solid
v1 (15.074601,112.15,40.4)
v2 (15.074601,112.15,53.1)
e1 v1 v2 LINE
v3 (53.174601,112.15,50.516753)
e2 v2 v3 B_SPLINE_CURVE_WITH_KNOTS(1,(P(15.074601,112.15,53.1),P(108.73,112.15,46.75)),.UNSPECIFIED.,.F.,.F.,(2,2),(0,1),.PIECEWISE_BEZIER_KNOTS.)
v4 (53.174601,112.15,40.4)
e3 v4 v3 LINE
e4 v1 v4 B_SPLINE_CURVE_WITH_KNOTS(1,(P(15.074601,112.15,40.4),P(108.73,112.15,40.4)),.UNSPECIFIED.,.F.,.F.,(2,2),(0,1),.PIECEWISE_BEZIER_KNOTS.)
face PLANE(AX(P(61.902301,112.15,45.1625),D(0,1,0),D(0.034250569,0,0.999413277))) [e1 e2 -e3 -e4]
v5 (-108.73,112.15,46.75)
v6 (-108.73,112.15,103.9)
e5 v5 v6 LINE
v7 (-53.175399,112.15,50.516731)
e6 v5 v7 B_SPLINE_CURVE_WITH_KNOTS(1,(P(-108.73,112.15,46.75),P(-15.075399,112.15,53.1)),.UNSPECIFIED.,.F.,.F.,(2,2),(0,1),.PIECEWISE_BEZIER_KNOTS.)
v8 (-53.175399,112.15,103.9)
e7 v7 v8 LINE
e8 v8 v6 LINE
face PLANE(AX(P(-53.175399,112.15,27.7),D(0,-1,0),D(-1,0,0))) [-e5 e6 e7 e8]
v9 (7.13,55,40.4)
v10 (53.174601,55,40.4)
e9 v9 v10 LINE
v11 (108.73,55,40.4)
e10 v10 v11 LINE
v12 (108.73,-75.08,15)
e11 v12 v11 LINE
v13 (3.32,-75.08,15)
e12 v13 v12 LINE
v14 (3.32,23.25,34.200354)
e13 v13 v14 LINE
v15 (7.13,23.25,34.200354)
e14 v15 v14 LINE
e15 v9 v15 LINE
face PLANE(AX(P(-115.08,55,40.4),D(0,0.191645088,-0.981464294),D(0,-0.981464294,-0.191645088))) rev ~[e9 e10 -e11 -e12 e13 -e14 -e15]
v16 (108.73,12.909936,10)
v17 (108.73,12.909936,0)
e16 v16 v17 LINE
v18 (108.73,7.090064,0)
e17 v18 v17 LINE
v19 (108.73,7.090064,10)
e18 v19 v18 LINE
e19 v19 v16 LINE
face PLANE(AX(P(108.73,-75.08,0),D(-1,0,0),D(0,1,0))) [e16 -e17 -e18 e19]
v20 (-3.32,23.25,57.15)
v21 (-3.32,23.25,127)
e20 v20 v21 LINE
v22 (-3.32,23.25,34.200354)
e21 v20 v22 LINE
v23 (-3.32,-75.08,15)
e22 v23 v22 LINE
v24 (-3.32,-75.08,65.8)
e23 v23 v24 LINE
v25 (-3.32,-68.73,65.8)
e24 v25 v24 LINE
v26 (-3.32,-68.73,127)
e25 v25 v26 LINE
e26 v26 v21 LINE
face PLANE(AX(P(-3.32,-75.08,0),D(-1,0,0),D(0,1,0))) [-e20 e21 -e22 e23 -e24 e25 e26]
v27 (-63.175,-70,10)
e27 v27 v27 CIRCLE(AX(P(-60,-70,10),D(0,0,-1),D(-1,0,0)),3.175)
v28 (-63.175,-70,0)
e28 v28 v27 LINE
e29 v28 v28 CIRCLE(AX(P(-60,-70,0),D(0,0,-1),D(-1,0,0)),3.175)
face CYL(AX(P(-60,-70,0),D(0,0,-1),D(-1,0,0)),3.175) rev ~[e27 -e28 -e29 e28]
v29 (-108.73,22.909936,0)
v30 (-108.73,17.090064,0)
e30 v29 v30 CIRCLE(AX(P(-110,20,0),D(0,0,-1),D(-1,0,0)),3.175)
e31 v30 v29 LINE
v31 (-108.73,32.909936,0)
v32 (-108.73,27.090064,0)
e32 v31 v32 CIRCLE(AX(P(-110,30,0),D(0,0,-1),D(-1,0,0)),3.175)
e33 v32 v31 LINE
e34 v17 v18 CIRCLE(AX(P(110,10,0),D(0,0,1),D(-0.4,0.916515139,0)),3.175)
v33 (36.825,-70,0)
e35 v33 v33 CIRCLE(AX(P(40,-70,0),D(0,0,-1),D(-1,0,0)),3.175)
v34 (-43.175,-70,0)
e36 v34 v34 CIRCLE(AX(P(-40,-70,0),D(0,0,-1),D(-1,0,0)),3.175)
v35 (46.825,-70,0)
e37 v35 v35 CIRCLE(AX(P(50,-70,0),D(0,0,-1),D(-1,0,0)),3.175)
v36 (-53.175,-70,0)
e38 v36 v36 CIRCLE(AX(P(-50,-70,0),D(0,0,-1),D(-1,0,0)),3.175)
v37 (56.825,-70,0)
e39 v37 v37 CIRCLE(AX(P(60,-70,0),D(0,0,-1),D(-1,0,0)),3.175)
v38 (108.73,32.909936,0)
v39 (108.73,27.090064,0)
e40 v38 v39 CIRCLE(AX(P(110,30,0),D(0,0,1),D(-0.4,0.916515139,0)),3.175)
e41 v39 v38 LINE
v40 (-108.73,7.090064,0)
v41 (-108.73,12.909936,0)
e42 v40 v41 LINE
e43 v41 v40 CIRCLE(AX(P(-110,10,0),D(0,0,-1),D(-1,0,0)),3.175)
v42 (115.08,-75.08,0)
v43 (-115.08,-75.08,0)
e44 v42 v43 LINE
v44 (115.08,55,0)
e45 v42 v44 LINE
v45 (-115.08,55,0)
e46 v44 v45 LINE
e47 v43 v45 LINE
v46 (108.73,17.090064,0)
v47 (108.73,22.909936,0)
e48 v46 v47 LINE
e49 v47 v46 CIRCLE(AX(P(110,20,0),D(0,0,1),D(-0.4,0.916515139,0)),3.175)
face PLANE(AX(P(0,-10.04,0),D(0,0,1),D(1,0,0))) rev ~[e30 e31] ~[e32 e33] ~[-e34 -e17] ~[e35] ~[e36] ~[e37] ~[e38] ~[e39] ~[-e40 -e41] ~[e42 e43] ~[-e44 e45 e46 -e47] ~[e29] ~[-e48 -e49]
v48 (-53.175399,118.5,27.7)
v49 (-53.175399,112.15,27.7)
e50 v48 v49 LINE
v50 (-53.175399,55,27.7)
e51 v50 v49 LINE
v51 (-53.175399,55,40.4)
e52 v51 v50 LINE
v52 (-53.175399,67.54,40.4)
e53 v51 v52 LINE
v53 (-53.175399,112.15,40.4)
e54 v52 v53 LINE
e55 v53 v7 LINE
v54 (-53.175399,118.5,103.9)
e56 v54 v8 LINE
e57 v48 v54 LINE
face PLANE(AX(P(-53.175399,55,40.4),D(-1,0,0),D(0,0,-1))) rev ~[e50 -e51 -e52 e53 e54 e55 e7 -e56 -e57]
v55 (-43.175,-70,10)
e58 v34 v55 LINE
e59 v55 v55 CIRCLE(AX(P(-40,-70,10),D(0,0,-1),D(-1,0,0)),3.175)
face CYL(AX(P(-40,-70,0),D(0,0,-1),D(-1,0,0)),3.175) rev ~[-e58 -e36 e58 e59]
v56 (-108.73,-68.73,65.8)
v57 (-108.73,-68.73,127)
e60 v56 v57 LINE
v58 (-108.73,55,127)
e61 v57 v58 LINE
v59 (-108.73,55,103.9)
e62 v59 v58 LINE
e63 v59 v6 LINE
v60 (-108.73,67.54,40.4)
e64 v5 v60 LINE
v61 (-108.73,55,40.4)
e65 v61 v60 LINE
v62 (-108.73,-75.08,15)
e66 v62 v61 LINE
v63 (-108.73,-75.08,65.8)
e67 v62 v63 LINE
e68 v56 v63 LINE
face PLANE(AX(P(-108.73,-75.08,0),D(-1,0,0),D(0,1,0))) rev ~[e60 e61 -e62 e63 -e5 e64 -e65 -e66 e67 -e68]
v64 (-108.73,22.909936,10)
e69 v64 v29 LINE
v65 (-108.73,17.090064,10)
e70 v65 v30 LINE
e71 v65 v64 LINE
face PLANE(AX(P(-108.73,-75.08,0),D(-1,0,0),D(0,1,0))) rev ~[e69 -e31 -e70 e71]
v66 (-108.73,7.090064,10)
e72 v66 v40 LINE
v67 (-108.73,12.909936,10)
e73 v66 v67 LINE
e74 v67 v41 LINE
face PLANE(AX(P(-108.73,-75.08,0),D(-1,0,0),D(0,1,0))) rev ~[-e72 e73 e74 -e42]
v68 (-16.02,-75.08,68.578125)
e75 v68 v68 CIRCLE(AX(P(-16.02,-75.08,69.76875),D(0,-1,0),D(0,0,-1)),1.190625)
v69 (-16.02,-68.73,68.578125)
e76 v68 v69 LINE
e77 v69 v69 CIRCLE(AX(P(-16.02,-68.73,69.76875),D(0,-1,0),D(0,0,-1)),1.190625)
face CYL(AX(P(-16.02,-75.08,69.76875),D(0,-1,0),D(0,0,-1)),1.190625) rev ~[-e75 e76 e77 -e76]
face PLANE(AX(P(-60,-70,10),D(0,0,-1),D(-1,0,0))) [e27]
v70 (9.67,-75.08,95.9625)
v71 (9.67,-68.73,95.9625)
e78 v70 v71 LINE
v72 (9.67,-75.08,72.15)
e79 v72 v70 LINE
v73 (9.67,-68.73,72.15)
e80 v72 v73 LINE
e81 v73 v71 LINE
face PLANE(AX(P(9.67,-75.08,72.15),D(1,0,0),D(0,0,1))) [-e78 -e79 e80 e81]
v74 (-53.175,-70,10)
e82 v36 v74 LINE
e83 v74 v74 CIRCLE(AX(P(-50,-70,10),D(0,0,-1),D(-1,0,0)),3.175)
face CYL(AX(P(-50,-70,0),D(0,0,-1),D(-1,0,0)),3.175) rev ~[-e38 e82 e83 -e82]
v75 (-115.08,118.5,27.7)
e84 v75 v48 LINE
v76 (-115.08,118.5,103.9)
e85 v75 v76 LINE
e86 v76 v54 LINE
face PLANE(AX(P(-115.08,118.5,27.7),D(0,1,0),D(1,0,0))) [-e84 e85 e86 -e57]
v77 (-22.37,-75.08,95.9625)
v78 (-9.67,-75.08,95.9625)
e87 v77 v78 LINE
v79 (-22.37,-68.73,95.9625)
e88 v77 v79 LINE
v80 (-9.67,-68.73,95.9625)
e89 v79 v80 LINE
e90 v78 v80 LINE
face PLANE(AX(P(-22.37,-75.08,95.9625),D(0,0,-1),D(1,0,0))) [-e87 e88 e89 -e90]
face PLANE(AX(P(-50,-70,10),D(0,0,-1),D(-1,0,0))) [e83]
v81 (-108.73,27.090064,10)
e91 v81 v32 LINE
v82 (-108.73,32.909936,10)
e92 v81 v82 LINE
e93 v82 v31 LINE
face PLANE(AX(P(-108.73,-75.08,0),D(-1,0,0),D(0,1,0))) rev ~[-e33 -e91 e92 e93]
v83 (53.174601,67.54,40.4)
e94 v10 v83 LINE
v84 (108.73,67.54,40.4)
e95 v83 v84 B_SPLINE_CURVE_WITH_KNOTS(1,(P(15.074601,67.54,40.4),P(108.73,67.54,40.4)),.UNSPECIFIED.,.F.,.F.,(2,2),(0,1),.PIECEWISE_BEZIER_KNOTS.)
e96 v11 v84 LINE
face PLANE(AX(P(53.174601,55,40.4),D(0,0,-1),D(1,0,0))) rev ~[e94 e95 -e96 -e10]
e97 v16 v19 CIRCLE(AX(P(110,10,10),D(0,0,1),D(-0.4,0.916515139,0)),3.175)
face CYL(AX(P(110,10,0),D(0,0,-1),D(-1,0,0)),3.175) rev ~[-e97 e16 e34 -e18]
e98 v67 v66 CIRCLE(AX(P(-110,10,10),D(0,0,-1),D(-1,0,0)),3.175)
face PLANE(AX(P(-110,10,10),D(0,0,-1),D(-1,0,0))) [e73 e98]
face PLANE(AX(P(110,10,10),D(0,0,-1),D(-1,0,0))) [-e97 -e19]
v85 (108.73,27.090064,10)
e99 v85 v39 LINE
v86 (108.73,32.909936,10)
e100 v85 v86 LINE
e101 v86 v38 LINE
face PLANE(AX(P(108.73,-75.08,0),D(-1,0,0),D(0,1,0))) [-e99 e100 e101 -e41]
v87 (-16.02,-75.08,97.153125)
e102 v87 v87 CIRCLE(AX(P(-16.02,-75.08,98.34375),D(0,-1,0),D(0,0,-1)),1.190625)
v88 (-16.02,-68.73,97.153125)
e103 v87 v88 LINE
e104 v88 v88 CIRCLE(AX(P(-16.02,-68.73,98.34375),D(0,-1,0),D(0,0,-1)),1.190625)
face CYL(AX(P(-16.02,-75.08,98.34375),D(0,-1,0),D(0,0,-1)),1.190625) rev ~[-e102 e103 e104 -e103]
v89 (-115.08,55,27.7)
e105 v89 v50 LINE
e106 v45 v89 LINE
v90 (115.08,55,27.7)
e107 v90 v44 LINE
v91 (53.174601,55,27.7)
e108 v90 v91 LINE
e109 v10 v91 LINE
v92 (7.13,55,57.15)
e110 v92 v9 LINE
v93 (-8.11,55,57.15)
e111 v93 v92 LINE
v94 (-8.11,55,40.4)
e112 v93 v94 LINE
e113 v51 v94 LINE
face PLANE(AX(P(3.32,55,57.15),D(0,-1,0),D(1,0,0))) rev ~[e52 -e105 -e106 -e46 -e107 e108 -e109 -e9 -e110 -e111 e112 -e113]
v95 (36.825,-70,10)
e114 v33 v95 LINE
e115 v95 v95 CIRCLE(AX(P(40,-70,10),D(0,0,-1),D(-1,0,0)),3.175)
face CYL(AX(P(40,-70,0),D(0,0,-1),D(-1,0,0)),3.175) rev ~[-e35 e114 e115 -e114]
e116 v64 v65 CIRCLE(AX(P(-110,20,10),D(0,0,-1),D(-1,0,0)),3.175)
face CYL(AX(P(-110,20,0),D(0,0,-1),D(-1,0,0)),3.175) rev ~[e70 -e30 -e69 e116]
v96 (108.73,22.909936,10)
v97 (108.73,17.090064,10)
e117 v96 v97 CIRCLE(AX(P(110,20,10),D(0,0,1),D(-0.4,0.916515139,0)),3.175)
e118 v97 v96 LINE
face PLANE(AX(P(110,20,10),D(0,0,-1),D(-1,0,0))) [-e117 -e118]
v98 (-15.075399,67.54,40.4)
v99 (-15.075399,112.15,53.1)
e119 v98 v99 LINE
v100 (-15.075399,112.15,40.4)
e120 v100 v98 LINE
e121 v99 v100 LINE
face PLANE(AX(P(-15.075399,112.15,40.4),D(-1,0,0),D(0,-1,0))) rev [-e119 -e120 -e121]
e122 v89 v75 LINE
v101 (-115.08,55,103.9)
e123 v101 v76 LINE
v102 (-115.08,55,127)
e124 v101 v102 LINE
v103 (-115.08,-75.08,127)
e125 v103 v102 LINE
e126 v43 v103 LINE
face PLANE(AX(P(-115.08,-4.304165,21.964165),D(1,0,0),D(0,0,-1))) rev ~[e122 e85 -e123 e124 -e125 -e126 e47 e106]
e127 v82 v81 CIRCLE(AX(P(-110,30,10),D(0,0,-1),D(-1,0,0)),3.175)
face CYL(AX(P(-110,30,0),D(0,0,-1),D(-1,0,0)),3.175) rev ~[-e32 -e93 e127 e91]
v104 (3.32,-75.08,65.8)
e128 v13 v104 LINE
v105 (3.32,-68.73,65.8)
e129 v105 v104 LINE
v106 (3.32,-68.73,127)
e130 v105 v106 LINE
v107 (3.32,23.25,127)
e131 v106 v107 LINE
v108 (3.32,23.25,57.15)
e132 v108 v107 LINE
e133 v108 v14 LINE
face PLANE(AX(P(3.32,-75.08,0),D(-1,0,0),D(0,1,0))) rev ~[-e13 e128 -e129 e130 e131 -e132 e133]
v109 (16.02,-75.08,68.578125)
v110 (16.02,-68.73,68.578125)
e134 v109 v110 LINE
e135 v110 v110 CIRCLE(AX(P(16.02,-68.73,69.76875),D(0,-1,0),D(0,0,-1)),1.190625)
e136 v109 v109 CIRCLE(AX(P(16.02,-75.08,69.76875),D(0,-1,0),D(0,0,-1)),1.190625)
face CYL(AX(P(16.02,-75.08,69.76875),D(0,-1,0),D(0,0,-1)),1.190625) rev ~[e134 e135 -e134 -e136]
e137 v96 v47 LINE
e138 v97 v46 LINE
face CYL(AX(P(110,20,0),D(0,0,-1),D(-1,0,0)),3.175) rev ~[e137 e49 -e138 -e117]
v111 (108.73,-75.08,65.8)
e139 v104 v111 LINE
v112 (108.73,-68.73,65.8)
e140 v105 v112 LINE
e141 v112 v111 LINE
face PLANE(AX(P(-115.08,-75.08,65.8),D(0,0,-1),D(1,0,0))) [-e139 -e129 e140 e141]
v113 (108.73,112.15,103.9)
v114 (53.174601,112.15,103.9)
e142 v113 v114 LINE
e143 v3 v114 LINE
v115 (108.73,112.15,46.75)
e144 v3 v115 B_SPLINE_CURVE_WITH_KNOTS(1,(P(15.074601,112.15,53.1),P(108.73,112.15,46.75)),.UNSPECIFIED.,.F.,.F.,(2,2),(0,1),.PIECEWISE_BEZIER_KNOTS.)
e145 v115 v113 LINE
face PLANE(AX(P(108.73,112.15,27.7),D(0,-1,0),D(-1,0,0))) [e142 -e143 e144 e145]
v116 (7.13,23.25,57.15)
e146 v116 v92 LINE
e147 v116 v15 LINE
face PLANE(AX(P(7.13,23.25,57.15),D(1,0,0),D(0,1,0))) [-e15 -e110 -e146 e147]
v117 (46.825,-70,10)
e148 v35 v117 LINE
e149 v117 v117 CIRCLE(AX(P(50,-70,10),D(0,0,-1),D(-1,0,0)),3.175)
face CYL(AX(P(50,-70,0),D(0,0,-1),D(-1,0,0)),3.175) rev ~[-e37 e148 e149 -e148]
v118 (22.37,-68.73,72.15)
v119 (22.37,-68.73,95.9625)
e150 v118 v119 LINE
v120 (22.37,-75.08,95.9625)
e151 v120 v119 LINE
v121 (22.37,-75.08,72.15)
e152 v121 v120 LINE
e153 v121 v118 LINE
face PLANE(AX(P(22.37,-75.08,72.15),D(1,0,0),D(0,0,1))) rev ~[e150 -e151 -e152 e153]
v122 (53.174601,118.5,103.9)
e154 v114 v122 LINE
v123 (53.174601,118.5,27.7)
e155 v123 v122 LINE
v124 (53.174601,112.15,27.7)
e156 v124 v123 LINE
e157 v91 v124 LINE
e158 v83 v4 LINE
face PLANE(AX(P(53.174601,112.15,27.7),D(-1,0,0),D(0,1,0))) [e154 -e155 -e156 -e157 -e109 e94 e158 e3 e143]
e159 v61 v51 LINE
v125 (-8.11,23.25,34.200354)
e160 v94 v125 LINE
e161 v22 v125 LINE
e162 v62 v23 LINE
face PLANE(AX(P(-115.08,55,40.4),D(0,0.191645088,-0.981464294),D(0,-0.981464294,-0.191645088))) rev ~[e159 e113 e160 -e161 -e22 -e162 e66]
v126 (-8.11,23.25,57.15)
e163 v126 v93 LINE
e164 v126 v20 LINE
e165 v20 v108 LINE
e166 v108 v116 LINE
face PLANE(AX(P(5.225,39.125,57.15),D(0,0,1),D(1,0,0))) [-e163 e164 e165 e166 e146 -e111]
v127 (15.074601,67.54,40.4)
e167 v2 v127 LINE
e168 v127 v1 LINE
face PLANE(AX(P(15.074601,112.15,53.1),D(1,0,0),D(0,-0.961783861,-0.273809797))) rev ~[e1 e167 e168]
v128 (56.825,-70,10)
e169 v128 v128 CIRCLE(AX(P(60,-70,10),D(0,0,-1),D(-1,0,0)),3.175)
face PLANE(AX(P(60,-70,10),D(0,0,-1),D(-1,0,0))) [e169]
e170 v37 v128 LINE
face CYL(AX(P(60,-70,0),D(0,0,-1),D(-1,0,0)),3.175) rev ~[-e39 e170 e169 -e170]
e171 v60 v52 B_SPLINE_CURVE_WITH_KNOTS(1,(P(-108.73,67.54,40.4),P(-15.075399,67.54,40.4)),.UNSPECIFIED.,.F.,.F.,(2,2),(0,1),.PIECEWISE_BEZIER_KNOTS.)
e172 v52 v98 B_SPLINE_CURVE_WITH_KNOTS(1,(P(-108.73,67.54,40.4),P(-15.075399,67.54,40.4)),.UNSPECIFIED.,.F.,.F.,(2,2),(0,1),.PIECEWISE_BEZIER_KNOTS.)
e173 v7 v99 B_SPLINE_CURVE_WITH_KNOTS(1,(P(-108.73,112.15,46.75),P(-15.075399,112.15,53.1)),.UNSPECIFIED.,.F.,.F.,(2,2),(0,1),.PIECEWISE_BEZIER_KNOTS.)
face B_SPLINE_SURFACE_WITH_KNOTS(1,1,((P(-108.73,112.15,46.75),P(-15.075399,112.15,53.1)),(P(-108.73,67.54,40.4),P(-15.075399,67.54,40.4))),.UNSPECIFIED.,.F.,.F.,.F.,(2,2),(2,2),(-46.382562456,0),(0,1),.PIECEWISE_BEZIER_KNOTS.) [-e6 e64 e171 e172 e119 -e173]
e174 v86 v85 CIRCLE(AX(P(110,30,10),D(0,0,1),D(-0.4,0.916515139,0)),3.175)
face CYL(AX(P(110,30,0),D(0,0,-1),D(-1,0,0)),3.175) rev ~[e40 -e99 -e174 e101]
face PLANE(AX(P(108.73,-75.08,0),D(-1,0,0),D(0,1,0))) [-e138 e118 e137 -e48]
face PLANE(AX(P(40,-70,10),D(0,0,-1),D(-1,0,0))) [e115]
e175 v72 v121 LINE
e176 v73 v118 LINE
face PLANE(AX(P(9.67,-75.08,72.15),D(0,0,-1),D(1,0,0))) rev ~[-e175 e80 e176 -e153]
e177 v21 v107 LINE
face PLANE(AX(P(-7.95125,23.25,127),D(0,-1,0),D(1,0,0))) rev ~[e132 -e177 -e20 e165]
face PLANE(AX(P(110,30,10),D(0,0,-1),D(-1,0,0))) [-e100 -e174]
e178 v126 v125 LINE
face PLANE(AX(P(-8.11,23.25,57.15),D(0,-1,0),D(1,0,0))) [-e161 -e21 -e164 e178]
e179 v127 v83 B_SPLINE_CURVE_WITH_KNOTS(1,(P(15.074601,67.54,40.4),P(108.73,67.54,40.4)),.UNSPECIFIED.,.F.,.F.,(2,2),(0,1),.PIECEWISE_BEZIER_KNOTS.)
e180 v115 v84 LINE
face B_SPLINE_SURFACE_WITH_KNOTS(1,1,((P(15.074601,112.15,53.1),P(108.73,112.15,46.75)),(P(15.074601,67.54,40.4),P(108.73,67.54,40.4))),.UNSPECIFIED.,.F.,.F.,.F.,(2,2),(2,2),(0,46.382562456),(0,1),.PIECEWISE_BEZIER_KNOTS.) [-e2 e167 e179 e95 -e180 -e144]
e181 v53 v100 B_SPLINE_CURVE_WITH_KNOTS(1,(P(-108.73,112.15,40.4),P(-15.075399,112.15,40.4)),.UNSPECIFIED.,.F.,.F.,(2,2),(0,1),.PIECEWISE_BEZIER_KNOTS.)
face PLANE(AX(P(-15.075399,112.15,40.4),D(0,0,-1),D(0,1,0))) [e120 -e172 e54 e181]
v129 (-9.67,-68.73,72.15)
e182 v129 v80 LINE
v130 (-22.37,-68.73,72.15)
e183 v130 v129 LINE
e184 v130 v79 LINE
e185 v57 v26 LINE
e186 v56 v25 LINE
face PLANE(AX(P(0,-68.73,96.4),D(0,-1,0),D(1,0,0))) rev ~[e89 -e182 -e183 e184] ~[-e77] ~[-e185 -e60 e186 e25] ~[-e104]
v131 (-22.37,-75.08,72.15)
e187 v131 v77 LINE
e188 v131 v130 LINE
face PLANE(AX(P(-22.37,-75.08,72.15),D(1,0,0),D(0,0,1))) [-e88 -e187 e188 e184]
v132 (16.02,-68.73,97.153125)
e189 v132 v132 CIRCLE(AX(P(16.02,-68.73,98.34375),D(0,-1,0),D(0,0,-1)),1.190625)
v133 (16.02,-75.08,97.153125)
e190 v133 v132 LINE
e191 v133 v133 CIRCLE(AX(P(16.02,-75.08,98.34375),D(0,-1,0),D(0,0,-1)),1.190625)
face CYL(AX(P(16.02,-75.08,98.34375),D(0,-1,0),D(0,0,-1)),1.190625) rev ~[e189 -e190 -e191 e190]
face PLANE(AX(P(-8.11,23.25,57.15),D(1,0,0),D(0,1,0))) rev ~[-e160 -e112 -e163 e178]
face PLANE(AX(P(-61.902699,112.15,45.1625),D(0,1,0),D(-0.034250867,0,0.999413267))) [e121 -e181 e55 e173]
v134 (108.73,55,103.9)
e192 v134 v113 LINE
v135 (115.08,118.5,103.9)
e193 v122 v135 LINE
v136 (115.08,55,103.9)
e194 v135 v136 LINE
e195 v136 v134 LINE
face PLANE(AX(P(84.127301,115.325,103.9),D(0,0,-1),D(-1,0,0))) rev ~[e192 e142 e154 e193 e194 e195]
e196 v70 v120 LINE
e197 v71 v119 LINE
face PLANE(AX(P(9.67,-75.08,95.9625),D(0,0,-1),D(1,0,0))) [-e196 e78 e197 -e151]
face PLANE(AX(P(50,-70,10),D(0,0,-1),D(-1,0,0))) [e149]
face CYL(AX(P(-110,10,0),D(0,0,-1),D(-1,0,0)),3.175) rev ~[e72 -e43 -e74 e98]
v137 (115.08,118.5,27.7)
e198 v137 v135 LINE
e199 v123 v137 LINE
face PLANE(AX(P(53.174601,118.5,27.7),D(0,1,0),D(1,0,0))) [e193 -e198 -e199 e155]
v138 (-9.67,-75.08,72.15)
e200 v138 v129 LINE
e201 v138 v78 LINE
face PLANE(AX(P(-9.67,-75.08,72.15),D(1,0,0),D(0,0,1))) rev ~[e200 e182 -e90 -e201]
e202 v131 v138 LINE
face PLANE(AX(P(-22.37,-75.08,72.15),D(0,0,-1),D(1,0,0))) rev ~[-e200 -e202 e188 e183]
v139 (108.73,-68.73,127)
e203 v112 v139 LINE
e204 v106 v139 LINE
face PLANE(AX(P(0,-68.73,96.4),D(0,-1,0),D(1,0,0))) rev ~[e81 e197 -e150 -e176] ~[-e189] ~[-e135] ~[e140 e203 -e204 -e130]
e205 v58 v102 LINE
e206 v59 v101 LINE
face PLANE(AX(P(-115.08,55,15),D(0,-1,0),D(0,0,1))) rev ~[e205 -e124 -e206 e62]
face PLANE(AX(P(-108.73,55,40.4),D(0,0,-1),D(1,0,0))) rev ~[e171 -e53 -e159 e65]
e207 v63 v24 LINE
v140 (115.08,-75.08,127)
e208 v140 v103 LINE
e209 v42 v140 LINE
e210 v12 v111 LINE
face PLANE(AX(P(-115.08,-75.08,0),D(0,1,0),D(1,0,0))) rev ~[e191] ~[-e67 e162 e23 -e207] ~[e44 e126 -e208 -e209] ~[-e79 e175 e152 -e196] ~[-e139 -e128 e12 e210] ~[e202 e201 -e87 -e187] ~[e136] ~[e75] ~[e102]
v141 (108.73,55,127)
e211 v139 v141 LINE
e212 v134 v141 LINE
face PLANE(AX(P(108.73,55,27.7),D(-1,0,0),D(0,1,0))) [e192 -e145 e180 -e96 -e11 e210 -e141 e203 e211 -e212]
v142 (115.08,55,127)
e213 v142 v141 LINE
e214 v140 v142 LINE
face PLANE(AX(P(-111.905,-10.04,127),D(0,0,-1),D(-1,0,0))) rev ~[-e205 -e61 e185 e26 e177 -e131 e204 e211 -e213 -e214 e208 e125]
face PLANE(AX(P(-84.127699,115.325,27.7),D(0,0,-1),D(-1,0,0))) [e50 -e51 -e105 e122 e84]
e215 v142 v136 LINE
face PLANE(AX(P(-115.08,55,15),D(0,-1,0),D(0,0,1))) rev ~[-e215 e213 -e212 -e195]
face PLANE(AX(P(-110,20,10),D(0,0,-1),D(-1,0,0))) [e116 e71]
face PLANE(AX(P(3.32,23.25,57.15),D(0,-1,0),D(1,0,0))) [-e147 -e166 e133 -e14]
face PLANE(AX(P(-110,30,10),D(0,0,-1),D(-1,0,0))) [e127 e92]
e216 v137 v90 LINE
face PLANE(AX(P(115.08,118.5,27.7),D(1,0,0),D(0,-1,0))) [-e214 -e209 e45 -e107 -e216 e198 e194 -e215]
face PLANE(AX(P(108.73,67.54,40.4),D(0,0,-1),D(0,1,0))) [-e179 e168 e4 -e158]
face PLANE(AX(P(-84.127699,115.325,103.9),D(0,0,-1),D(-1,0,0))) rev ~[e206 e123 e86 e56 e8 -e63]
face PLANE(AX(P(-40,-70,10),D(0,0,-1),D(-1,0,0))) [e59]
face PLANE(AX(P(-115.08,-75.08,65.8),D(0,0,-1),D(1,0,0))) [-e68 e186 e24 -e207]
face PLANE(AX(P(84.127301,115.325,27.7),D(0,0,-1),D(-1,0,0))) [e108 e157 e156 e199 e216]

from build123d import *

# Parameters (mm, degrees)
SKETCH1_W            = 230.16
SKETCH1_H            = 130.080000074
BOSS_EXTRUDE1_DEPTH  = 15
SKETCH2_R            = 3.175
CUT_EXTRUDE1_DEPTH   = 10
BOSS_EXTRUDE2_DEPTH  = 230.16
SKETCH5_W            = 6.35
SKETCH5_H            = 130.080000074
SKETCH5_W_2          = 6.64
BOSS_EXTRUDE3_DEPTH  = 127
SKETCH6_W            = 55.554601445
SKETCH6_H            = 12.7
SKETCH6_W_2          = 55.555398555
BOSS_EXTRUDE4_DEPTH  = 57.15
SKETCH17_W           = 6.35
SKETCH17_H           = 57.15
BOSS_EXTRUDE9_DEPTH  = 76.2
SKETCH18_W           = 15.24
SKETCH18_H           = 31.75
CUT_EXTRUDE2_DEPTH   = 69.85
SKETCH19_W           = 3.81
SKETCH19_H           = 31.75
SKETCH19_W_2         = 4.79
BOSS_EXTRUDE10_DEPTH = 25.4
SKETCH20_W           = 230.16
SKETCH20_H           = 61.2
BOSS_EXTRUDE12_DEPTH = 6.35
SKETCH21_R           = 1.190625
SKETCH21_W           = 12.7
SKETCH21_H           = 23.8125
CUT_EXTRUDE3_DEPTH   = 6.35


with BuildPart() as part:
    # Sketch1 → Boss-Extrude1 (new body)
    with BuildSketch(Plane.XY):
        with Locations((0, -10.039999963)):
            Rectangle(SKETCH1_W, SKETCH1_H)
    extrude(amount=BOSS_EXTRUDE1_DEPTH)

    # Sketch2 → Cut-Extrude1 (cut)
    with BuildSketch(Plane(origin=(0, 0, 0), x_dir=(-1, 0, 0), z_dir=(0, 0, -1))):
        with Locations((60, -70)):
            Circle(SKETCH2_R)
        with Locations((50, -70)):
            Circle(SKETCH2_R)
        with Locations((40, -70)):
            Circle(SKETCH2_R)
        with Locations((-40, -70)):
            Circle(SKETCH2_R)
        with Locations((-50, -70)):
            Circle(SKETCH2_R)
        with Locations((-60, -70)):
            Circle(SKETCH2_R)
        with Locations((-110, 10)):
            Circle(SKETCH2_R)
        with Locations((-110, 20)):
            Circle(SKETCH2_R)
        with Locations((-110, 30)):
            Circle(SKETCH2_R)
        with Locations((110, 10)):
            Circle(SKETCH2_R)
        with Locations((110, 20)):
            Circle(SKETCH2_R)
        with Locations((110, 30)):
            Circle(SKETCH2_R)
    extrude(amount=-CUT_EXTRUDE1_DEPTH, mode=Mode.SUBTRACT)

    # Sketch4 → Boss-Extrude2 (add)
    with BuildSketch(Plane.ZY.offset(115.08)):
        Polygon((15, -75.08), (15, 55.000000074), (40.4, 55.000000074), align=None)
    extrude(amount=-BOSS_EXTRUDE2_DEPTH)

    # Sketch5 → Boss-Extrude3 (add)
    with BuildSketch(Plane(origin=(0, 0, 0), x_dir=(-1, 0, 0), z_dir=(0, 0, -1))):
        with Locations((111.905, -10.039999963)):
            Rectangle(SKETCH5_W, SKETCH5_H)
        with Locations((-111.905, -10.039999963)):
            Rectangle(SKETCH5_W, SKETCH5_H)
        with Locations((0, -10.039999963)):
            Rectangle(SKETCH5_W_2, SKETCH5_H)
    extrude(amount=-BOSS_EXTRUDE3_DEPTH)

    # Sketch6 → Boss-Extrude4 (add)
    with BuildSketch(Plane(origin=(0, 55.000000074, 0), x_dir=(1, 0, 0), z_dir=(0, 1, 0))):
        with Locations((-80.952699278, -34.05)):
            Rectangle(SKETCH6_W, SKETCH6_H)
        with Locations((80.952300722, -34.05)):
            Rectangle(SKETCH6_W_2, SKETCH6_H)
    extrude(amount=BOSS_EXTRUDE4_DEPTH)

    # Sketch14 → Loft1 section 0
    with BuildSketch(Plane.ZY.offset(108.73)):
        with BuildLine():
            Line((40.4, 67.540000074), (40.4, 112.150000074))
            Line((40.4, 112.150000074), (46.75, 112.150000074))
            Line((46.75, 112.150000074), (40.4, 67.540000074))
        make_face()
    # Sketch13 → Loft1 section 1
    with BuildSketch(Plane(origin=(-15.075398555, 0, 0), x_dir=(0, 0, -1), z_dir=(1, 0, 0))):
        with BuildLine():
            Line((-40.4, 112.150000074), (-40.4, 67.540000074))
            Line((-40.4, 67.540000074), (-53.1, 112.150000074))
            Line((-53.1, 112.150000074), (-40.4, 112.150000074))
        make_face()
    loft()

    # Sketch15 → Loft2 section 0
    with BuildSketch(Plane.ZY.offset(-15.074601445)):
        with BuildLine():
            Line((53.1, 112.150000074), (40.4, 67.540000074))
            Line((40.4, 67.540000074), (40.4, 112.150000074))
            Line((40.4, 112.150000074), (53.1, 112.150000074))
        make_face()
    # Sketch16 → Loft2 section 1
    with BuildSketch(Plane(origin=(108.73, 0, 0), x_dir=(0, 0, -1), z_dir=(1, 0, 0))):
        with BuildLine():
            Line((-40.4, 112.150000074), (-46.75, 112.150000074))
            Line((-46.75, 112.150000074), (-40.4, 67.540000074))
            Line((-40.4, 67.540000074), (-40.4, 112.150000074))
        make_face()
    loft()

    # Sketch17 → Boss-Extrude9 (add)
    with BuildSketch(Plane(origin=(0, 0, 27.7), x_dir=(-1, 0, 0), z_dir=(0, 0, -1))):
        Polygon((-115.08, 112.150000074), (-108.73, 112.150000074), (-53.174601445, 112.150000074), (-53.174601445, 118.500000074), (-115.08, 118.500000074), align=None)
        with Locations((-111.905, 83.575000074)):
            Rectangle(SKETCH17_W, SKETCH17_H)
        Polygon((108.73, 112.150000074), (115.08, 112.150000074), (115.08, 118.500000074), (53.175398555, 118.500000074), (53.175398555, 112.150000074), align=None)
        with Locations((111.905, 83.575000074)):
            Rectangle(SKETCH17_W, SKETCH17_H)
    extrude(amount=-BOSS_EXTRUDE9_DEPTH)

    # Sketch18 → Cut-Extrude2 (cut)
    with BuildSketch(Plane.XY.offset(127)):
        with Locations((-0.33125, 39.125000074)):
            Rectangle(SKETCH18_W, SKETCH18_H)
    extrude(amount=-CUT_EXTRUDE2_DEPTH, mode=Mode.SUBTRACT)

    # Sketch19 → Boss-Extrude10 (add)
    with BuildSketch(Plane.XY.offset(57.15)):
        with Locations((5.225, 39.125000074)):
            Rectangle(SKETCH19_W, SKETCH19_H)
        with Locations((-5.715, 39.125000074)):
            Rectangle(SKETCH19_W_2, SKETCH19_H)
    extrude(amount=-BOSS_EXTRUDE10_DEPTH)

    # Sketch20 → Boss-Extrude12 (add)
    with BuildSketch(Plane.XZ.offset(75.08)):
        with Locations((0, 96.4)):
            Rectangle(SKETCH20_W, SKETCH20_H)
    extrude(amount=-BOSS_EXTRUDE12_DEPTH)

    # Sketch21 → Cut-Extrude3 (cut)
    with BuildSketch(Plane.XZ.offset(75.08)):
        with Locations(Location((-16.02, 69.76875, 0), (0, 0, 270))):
            Circle(SKETCH21_R)
        with Locations(Location((-16.02, 98.34375, 0), (0, 0, 270))):
            Circle(SKETCH21_R)
        with Locations(Location((16.02, 69.76875, 0), (0, 0, 270))):
            Circle(SKETCH21_R)
        with Locations(Location((16.02, 98.34375, 0), (0, 0, 270))):
            Circle(SKETCH21_R)
        with Locations((-16.02, 84.05625)):
            Rectangle(SKETCH21_W, SKETCH21_H)
        with Locations((16.02, 84.05625)):
            Rectangle(SKETCH21_W, SKETCH21_H)
    extrude(amount=-CUT_EXTRUDE3_DEPTH, mode=Mode.SUBTRACT)


solid = part.part
